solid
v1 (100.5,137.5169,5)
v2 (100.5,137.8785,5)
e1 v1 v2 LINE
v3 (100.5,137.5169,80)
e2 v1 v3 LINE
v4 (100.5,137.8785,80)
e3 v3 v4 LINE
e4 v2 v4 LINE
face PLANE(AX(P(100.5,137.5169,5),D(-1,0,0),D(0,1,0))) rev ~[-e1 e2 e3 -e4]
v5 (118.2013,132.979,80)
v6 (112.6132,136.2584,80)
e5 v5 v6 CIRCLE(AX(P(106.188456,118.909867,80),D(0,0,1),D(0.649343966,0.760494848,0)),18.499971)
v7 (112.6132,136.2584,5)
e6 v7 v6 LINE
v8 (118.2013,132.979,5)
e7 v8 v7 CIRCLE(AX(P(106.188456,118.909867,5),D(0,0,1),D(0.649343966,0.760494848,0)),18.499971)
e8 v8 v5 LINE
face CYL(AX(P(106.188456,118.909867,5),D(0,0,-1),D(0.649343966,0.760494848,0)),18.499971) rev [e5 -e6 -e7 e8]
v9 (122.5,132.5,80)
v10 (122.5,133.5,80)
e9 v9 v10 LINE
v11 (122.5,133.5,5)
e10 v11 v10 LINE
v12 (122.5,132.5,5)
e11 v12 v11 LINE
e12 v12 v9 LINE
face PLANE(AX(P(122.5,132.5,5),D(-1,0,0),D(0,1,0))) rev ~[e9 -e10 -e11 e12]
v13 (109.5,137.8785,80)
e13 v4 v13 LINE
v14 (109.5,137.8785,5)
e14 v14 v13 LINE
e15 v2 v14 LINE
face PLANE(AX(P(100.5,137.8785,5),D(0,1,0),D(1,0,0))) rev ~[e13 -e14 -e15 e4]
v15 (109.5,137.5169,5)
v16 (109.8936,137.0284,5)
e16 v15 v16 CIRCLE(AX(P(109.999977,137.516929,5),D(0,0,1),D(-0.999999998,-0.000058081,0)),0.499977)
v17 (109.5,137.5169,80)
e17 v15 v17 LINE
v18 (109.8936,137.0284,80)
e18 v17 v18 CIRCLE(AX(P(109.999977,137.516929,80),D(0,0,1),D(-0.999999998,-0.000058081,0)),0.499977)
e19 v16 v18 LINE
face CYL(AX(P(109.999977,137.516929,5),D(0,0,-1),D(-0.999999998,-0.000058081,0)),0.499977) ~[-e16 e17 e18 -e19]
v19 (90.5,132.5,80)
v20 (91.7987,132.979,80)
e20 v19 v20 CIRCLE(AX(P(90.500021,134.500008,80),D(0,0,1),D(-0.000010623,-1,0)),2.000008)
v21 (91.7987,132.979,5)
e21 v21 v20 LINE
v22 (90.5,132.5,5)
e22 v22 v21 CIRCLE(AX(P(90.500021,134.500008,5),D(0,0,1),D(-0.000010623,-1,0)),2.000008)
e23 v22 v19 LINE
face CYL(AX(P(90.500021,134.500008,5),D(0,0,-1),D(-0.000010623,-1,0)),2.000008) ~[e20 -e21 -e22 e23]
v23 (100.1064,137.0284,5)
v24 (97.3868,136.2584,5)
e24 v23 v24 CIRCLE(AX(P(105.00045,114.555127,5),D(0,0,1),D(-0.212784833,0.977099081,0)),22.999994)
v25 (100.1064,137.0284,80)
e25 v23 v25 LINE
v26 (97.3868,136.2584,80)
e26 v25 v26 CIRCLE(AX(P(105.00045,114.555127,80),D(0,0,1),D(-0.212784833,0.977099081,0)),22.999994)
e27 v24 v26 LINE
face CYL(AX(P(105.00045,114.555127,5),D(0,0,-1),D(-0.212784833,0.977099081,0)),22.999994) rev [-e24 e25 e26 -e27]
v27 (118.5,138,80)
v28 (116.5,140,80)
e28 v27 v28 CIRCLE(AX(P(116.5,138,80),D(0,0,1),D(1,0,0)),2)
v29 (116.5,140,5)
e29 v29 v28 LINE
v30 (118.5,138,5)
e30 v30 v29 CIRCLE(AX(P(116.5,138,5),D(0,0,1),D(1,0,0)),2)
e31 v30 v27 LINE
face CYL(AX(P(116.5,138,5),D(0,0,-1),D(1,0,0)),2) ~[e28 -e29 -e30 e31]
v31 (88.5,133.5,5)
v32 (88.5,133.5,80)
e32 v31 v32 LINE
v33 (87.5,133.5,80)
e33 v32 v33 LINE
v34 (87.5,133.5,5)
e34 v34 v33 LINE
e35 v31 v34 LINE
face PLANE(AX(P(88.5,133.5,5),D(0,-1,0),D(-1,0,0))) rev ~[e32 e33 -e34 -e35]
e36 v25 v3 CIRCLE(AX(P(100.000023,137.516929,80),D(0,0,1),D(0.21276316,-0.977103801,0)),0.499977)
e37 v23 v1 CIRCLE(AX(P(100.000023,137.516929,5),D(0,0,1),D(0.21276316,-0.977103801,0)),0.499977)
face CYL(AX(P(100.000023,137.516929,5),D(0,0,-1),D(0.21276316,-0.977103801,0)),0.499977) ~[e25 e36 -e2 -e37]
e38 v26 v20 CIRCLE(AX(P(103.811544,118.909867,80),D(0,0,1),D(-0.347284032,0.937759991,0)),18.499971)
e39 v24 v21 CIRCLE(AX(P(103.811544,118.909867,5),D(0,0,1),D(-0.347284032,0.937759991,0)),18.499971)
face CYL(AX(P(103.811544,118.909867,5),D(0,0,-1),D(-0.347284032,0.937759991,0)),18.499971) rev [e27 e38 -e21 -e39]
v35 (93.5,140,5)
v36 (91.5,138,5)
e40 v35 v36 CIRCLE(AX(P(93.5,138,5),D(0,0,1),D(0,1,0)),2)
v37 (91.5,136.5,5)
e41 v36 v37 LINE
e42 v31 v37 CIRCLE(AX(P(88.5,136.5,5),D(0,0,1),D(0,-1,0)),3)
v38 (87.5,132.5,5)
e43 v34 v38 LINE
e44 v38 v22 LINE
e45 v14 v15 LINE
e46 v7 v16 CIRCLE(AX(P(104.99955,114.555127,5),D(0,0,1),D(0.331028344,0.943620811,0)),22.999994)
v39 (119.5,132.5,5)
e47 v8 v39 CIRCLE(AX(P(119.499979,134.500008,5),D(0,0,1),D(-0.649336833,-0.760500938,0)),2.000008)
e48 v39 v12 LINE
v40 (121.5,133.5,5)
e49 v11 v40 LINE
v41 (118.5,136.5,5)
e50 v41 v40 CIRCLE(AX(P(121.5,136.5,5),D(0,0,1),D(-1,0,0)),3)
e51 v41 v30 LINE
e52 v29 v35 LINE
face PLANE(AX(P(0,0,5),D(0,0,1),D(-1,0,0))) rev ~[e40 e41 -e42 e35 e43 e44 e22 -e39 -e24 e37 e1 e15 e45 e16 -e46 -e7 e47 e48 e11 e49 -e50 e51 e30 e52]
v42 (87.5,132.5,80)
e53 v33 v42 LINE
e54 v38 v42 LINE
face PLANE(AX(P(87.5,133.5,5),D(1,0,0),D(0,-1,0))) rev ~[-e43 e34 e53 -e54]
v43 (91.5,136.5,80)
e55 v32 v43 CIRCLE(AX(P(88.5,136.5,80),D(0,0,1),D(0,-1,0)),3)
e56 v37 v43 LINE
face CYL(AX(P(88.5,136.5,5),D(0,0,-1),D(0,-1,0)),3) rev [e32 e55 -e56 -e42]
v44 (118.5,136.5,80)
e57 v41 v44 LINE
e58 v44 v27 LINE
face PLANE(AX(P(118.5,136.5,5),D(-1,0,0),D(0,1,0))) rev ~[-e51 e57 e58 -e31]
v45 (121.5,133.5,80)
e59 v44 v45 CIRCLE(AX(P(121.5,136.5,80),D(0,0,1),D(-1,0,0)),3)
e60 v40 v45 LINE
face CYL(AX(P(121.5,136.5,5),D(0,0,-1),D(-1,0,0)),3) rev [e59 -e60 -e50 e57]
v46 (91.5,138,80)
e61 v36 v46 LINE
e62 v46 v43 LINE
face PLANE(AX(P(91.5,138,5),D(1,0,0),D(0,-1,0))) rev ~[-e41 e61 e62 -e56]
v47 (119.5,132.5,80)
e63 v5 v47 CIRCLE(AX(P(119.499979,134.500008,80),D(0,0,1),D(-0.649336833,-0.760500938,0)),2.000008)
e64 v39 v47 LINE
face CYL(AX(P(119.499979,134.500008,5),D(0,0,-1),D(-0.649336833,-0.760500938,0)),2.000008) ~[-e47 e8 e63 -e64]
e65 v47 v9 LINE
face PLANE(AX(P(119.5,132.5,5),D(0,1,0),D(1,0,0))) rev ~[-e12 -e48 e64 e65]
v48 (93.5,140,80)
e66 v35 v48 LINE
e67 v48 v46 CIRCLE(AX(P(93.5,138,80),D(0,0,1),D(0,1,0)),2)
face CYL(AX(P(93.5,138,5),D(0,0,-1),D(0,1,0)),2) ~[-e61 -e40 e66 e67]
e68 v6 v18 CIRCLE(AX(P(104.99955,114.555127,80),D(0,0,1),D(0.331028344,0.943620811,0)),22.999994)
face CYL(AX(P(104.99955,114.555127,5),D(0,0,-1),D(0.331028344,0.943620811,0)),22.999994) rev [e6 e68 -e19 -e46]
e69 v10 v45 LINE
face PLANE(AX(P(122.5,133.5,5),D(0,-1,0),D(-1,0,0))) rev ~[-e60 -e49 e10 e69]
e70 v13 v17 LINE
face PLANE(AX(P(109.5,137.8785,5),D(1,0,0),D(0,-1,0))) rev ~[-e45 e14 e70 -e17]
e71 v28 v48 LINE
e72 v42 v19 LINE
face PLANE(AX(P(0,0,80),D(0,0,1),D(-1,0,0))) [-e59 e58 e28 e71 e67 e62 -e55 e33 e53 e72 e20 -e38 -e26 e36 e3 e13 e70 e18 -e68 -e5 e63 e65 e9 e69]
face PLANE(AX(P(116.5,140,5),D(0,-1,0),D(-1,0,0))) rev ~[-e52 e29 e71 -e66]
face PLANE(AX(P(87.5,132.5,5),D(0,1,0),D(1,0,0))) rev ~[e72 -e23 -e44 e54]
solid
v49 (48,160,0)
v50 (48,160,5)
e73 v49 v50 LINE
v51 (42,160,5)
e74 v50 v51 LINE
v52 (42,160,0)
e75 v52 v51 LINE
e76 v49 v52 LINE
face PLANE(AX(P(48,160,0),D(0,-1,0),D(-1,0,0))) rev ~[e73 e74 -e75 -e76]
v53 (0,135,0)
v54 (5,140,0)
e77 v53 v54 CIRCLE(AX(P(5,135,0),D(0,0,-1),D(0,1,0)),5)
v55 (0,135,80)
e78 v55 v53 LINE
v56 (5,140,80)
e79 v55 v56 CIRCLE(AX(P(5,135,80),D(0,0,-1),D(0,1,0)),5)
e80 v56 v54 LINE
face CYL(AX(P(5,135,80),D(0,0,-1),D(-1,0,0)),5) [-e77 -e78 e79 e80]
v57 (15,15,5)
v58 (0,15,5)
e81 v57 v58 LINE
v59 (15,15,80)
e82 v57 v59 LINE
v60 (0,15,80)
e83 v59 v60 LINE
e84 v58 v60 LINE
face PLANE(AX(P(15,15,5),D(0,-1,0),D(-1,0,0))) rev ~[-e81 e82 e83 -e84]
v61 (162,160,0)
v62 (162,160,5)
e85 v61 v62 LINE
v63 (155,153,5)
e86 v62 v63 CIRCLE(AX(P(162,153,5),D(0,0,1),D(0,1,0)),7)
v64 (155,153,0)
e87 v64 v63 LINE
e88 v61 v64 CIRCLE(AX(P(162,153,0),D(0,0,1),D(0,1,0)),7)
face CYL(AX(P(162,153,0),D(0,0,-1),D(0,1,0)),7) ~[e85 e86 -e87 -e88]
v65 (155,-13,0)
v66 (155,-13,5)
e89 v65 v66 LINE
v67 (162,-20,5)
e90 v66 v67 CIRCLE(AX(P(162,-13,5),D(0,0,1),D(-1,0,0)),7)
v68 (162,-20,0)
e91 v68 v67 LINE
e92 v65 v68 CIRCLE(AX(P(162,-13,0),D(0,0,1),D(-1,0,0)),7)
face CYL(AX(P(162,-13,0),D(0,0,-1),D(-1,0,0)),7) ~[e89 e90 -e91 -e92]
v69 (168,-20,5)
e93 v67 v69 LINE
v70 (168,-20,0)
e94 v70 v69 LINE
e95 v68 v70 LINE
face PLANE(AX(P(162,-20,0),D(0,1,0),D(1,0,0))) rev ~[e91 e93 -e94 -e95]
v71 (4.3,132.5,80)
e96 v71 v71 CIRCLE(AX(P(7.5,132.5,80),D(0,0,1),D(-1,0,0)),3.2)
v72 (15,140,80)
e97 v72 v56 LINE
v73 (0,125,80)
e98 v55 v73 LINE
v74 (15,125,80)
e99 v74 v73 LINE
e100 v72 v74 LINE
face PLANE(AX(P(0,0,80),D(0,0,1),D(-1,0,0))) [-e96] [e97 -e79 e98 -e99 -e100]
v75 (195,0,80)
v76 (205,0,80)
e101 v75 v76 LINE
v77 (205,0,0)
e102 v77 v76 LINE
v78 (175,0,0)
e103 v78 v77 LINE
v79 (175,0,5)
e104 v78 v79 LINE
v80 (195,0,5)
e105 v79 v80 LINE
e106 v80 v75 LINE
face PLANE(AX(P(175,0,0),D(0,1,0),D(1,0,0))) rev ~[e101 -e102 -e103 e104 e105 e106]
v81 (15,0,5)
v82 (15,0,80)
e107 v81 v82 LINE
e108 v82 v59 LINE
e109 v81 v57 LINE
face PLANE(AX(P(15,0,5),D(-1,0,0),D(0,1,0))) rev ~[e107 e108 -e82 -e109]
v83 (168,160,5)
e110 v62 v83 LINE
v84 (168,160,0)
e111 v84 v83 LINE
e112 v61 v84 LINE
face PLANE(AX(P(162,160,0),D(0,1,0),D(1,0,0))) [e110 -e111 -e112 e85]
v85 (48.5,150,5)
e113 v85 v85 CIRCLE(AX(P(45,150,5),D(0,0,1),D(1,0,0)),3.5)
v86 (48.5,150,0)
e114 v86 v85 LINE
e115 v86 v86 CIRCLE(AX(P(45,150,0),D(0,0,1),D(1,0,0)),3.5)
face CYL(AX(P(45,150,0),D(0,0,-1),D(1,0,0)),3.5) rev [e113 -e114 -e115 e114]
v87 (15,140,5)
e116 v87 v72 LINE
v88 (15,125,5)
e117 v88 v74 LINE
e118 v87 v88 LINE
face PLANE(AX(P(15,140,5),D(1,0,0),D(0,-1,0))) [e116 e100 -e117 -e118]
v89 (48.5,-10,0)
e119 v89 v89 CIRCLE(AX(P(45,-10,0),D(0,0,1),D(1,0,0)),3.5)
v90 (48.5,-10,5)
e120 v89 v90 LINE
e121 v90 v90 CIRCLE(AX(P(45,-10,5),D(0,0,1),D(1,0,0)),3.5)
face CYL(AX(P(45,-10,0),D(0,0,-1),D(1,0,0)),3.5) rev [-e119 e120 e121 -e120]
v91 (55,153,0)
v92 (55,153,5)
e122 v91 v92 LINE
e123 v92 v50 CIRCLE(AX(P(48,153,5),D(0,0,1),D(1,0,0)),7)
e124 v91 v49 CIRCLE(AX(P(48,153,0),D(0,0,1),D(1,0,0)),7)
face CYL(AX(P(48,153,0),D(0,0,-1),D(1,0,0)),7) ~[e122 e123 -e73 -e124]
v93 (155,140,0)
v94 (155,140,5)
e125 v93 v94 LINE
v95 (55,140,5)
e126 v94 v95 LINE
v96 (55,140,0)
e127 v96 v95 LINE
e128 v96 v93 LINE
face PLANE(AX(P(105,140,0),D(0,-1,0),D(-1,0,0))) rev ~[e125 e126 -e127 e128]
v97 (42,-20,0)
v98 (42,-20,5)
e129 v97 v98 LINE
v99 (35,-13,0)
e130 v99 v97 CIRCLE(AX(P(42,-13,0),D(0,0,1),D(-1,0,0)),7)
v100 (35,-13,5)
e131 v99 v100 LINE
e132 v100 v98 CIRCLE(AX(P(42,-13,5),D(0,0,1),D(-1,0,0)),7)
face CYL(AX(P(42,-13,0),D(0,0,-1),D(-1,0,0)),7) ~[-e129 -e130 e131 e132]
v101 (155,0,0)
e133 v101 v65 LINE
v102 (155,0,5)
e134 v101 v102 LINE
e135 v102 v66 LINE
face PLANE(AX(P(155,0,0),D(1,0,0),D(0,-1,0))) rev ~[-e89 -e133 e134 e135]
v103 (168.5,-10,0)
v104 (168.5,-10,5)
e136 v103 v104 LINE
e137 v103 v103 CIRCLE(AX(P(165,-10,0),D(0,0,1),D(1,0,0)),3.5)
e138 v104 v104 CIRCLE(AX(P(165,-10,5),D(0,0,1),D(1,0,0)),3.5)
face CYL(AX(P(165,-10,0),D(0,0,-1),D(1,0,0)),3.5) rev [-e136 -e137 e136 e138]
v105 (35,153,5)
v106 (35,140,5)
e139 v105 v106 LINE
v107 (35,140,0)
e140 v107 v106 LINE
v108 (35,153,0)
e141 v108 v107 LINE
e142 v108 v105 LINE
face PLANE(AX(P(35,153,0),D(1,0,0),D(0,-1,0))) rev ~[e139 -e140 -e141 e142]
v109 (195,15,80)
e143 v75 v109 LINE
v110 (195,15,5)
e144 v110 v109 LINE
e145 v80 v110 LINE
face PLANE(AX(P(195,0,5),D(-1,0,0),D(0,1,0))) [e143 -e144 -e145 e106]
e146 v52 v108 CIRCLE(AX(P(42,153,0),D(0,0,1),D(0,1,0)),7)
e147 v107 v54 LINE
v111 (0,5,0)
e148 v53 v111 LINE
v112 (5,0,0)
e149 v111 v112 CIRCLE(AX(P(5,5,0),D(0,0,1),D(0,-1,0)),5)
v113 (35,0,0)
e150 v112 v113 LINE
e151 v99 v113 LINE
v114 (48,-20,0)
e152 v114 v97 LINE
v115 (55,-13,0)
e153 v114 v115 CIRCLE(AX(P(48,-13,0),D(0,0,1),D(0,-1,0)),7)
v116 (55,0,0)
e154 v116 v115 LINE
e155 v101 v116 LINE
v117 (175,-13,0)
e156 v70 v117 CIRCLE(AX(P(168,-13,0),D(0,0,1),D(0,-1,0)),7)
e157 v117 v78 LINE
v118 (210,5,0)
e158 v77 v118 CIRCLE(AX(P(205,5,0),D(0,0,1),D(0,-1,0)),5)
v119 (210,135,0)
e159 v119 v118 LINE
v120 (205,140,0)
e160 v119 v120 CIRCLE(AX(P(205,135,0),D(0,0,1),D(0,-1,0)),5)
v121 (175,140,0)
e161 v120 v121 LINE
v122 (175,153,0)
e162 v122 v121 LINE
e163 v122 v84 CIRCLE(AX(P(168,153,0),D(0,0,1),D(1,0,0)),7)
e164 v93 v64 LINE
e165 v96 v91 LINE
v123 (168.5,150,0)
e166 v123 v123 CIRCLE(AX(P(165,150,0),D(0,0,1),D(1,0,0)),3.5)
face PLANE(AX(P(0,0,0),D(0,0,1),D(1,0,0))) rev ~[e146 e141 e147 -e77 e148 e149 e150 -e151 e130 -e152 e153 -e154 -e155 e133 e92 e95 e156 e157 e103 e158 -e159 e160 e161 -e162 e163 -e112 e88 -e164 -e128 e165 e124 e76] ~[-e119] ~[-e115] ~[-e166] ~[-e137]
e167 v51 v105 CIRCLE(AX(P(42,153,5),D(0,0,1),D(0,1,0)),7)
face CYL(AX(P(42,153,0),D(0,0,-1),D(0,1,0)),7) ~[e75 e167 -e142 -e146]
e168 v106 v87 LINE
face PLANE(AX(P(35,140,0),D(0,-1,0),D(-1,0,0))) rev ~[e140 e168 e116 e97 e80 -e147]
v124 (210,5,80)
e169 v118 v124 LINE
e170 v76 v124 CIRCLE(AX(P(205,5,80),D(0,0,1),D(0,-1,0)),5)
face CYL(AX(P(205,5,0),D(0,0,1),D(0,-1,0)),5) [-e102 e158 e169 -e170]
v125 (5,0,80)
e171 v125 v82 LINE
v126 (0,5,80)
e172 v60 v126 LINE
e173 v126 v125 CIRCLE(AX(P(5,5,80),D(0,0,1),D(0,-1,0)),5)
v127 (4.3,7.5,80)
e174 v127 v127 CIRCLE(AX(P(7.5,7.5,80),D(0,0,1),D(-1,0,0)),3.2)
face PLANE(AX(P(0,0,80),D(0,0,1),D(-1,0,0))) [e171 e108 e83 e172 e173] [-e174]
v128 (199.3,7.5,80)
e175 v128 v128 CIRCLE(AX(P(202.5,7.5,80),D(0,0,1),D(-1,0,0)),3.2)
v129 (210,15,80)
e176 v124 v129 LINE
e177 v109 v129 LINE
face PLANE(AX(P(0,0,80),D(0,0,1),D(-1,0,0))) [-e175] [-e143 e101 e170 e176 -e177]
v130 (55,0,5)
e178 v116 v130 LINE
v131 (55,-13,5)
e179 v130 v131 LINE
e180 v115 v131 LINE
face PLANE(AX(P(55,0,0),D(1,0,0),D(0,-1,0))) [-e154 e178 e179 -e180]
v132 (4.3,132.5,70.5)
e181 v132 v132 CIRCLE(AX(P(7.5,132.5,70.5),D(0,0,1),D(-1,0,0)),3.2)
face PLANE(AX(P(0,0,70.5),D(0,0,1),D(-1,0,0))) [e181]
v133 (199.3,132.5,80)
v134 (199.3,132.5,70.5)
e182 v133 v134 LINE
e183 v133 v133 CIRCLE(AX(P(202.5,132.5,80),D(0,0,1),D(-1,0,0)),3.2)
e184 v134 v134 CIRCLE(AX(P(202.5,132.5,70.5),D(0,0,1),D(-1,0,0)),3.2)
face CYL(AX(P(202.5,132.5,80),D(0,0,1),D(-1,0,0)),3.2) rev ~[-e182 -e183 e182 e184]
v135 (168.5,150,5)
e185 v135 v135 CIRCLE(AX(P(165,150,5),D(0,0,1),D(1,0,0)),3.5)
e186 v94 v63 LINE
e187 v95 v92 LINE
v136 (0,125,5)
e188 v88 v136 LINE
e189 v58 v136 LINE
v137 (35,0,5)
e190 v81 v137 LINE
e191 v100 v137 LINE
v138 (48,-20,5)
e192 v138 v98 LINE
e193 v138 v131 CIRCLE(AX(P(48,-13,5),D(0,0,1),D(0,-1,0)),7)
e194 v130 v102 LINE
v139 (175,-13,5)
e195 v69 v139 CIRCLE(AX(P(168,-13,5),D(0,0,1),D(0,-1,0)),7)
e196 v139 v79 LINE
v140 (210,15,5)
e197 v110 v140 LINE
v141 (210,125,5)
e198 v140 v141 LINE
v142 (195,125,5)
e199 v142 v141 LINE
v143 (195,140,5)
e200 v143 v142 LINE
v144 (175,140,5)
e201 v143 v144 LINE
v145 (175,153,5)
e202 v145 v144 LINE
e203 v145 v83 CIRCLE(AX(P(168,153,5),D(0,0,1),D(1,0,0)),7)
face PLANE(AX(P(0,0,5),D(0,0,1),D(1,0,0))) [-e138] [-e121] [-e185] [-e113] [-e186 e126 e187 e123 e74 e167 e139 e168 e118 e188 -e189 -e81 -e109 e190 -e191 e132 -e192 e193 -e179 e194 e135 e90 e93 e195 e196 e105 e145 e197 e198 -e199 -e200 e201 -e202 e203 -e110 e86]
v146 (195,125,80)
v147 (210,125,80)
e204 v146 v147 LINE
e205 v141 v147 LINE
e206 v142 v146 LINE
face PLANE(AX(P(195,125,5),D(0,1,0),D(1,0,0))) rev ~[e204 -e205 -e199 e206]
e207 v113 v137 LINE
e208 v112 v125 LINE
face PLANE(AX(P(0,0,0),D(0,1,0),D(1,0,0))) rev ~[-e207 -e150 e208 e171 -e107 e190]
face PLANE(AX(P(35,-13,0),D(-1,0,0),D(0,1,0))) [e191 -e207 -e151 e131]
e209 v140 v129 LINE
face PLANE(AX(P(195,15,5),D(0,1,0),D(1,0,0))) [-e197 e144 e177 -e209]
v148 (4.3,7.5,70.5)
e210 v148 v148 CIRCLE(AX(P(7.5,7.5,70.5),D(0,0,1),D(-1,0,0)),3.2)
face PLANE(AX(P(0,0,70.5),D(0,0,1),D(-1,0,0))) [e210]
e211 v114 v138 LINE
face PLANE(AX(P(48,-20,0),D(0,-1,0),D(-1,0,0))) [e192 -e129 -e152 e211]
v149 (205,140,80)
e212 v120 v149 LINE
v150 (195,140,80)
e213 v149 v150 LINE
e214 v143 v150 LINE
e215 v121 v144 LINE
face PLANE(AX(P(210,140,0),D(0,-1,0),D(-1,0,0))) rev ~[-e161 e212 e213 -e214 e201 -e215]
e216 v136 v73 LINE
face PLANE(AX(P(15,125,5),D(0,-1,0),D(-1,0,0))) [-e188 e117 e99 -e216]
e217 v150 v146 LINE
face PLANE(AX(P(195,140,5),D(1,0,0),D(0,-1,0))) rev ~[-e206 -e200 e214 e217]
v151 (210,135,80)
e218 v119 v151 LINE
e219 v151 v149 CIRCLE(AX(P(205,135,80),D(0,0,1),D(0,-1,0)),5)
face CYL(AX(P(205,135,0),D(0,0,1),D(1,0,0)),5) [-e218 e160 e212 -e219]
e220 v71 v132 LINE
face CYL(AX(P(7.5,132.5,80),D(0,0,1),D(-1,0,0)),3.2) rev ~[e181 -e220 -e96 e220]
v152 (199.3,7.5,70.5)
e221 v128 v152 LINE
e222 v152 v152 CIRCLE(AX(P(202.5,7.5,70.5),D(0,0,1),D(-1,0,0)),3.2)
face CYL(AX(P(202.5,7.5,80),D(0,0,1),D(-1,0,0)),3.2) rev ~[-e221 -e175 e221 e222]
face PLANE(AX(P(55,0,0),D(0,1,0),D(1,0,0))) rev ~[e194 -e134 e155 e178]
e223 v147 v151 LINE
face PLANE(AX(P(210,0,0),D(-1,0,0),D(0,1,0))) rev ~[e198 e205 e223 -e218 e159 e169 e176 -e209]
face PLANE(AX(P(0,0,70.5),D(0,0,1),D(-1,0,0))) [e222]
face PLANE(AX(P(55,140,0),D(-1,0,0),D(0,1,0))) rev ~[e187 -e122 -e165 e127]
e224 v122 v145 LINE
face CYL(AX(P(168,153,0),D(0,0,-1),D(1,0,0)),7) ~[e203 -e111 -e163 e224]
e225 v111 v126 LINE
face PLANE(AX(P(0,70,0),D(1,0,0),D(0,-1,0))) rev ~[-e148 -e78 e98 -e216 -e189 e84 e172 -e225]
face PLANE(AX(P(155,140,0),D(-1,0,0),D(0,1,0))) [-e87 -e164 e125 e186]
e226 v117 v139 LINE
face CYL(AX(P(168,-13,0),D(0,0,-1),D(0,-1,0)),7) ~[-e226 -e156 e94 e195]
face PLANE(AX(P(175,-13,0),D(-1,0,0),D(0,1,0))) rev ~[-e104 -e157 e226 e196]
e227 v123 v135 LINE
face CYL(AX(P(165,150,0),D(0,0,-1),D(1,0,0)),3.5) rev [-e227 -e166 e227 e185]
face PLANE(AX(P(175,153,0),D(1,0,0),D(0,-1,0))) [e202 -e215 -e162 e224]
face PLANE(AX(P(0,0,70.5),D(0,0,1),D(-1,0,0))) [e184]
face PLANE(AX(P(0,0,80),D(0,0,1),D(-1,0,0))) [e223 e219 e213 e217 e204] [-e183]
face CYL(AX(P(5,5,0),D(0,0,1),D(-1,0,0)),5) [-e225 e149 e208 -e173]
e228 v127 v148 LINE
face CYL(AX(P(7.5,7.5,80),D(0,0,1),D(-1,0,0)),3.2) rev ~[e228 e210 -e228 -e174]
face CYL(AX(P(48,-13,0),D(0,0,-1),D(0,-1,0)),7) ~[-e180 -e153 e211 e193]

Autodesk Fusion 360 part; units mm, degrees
sketch "Sketch1" plane through (0, 0, 0) normal (0, 0, 1) x (1, 0, 0)
  line L0 (0, 0) -> (210, 0)
  line L1 (210, 0) -> (210, 140)
  line L2 (210, 140) -> (0, 140)
  line L3 (0, 140) -> (0, 0)
  line L4 (35, 140) -> (55, 140)
  line L5 (55, 140) -> (55, 153)
  line L6 (48, 160) -> (42, 160)
  line L7 (35, 153) -> (35, 140)
  line L8 (0, 70) -> (210, 70)
  line L9 (105, 140) -> (105, 0)
  circle A0 centre (45, 150) radius 3.5
  arc A1 (42, 160) -> (35, 153) centre (42, 153) ccw
  arc A2 (55, 153) -> (48, 160) centre (48, 153) ccw
  arc A3 (35, -13) -> (42, -20) centre (42, -13) ccw
  line L10 (48, -20) -> (42, -20)
  circle A4 centre (45, -10) radius 3.5
  arc A5 (48, -20) -> (55, -13) centre (48, -13) ccw
  line L11 (35, -13) -> (35, 0)
  line L12 (55, 0) -> (55, -13)
  arc A6 (162, 160) -> (155, 153) centre (162, 153) ccw
  arc A7 (175, 153) -> (168, 160) centre (168, 153) ccw
  line L13 (162, 160) -> (168, 160)
  circle A8 centre (165, 150) radius 3.5
  line L14 (175, 153) -> (175, 140)
  line L15 (155, 140) -> (155, 153)
  arc A9 (155, -13) -> (162, -20) centre (162, -13) ccw
  circle A10 centre (165, -10) radius 3.5
  line L16 (162, -20) -> (168, -20)
  arc A11 (168, -20) -> (175, -13) centre (168, -13) ccw
  line L17 (155, 0) -> (155, -13)
  line L18 (175, -13) -> (175, 0)
  point P0 (35, 160)
  point P1 (35, -20)
  point P2 (175, 160)
  point P3 (175, -20)
  dimension "d1" = 210
  dimension "d2" = 140
  dimension "d3" = 20
  dimension "d4" = 20
  dimension "d5" = 35
  dimension "d6" = 7
  dimension "d7" = 10
  dimension "d8" = 10
  dimension "d9" = 7
extrude "Extrude1" add sketch "Sketch1" along normal blind 5 makes body 1
sketch "Sketch2" plane through (0, 0, 5) normal (0, 0, 1) x (-1, 0, 0)
  circle A0 centre (-45, 10) radius 3.5
  circle A1 centre (-45, -150) radius 3.5
  circle A2 centre (-165, -150) radius 3.5
  circle A3 centre (-165, 10) radius 3.5
  line L0 (-55, 0) -> (-155, 0)
  line L1 (-155, 0) -> (-155, 13)
  arc A4 (-155, 13) -> (-162, 20) centre (-162, 13) ccw
  line L2 (-162, 20) -> (-168, 20)
  arc A5 (-168, 20) -> (-175, 13) centre (-168, 13) ccw
  line L3 (-175, 13) -> (-175, 0)
  line L4 (-175, 0) -> (-210, 0)
  line L5 (-210, 0) -> (-210, -140)
  line L6 (-210, -140) -> (-175, -140)
  line L7 (-175, -140) -> (-175, -153)
  arc A6 (-175, -153) -> (-168, -160) centre (-168, -153) ccw
  line L8 (-168, -160) -> (-162, -160)
  arc A7 (-162, -160) -> (-155, -153) centre (-162, -153) ccw
  line L9 (-155, -153) -> (-155, -140)
  line L10 (-155, -140) -> (-55, -140)
  line L11 (-55, -140) -> (-55, -153)
  arc A8 (-55, -153) -> (-48, -160) centre (-48, -153) ccw
  line L12 (-48, -160) -> (-42, -160)
  arc A9 (-42, -160) -> (-35, -153) centre (-42, -153) ccw
  line L13 (-35, -153) -> (-35, -140)
  line L14 (-35, -140) -> (0, -140)
  line L15 (0, -140) -> (0, 0)
  line L16 (0, 0) -> (-35, 0)
  line L17 (-35, 0) -> (-35, 13)
  arc A10 (-35, 13) -> (-42, 20) centre (-42, 13) ccw
  line L18 (-42, 20) -> (-48, 20)
  arc A11 (-48, 20) -> (-55, 13) centre (-48, 13) ccw
  line L19 (-55, 13) -> (-55, 0)
  line L20 (0, -140) -> (-15, -140)
  line L21 (-15, -140) -> (-15, -125)
  line L22 (-15, -125) -> (0, -125)
  line L23 (0, -125) -> (0, -140)
  line L24 (-210, -140) -> (-195, -140)
  line L25 (-195, -140) -> (-195, -125)
  line L26 (-195, -125) -> (-210, -125)
  line L27 (-210, -125) -> (-210, -140)
  line L28 (0, 0) -> (-15, 0)
  line L29 (-15, 0) -> (-15, -15)
  line L30 (-15, -15) -> (0, -15)
  line L31 (0, -15) -> (0, 0)
  line L32 (-210, 0) -> (-195, 0)
  line L33 (-195, 0) -> (-195, -15)
  line L34 (-195, -15) -> (-210, -15)
  line L35 (-210, -15) -> (-210, 0)
  dimension "d12" = 15
  dimension "d13" = 15
  dimension "d14" = 15
  dimension "d15" = 15
  dimension "d16" = 15
  dimension "d17" = 15
  dimension "d18" = 15
  dimension "d19" = 15
extrude "Extrude2" add sketch "Sketch2" along normal blind 75 contours L15 L16 L28 L29 L30 L31 | L4 L5 L32 L33 L34 L35 | L14 L15 L20 L21 L22 L23 | L5 L6 L24 L25 L26 L27 bodies 1
fillet "Fillet1" radius 5 4 edges at (0, 140, 40) (0, 0, 40) (210, 140, 40) (210, 0, 40) on bodies 1
sketch "Sketch3" plane through (0, 0, 5) normal (0, 0, 1) x (-1, 0, 0)
  line L0 (-15, -15) -> (-15, 0)
  line L1 (-15, 0) -> (-35, 0)
  line L2 (-35, 0) -> (-35, 13)
  arc A0 (-35, 13) -> (-42, 20) centre (-42, 13) ccw
  line L3 (-42, 20) -> (-48, 20)
  arc A1 (-48, 20) -> (-55, 13) centre (-48, 13) ccw
  line L4 (-55, 13) -> (-55, 0)
  line L5 (-55, 0) -> (-155, 0)
  line L6 (-155, 0) -> (-155, 13)
  arc A2 (-155, 13) -> (-162, 20) centre (-162, 13) ccw
  line L7 (-162, 20) -> (-168, 20)
  arc A3 (-168, 20) -> (-175, 13) centre (-168, 13) ccw
  line L8 (-175, 13) -> (-175, 0)
  line L9 (-175, 0) -> (-195, 0)
  line L10 (-195, 0) -> (-195, -15)
  line L11 (-195, -15) -> (-210, -15)
  line L12 (-210, -15) -> (-210, -125)
  line L13 (-210, -125) -> (-195, -125)
  line L14 (-195, -125) -> (-195, -140)
  line L15 (-195, -140) -> (-175, -140)
  line L16 (-175, -140) -> (-175, -153)
  arc A4 (-175, -153) -> (-168, -160) centre (-168, -153) ccw
  line L17 (-168, -160) -> (-162, -160)
  arc A5 (-162, -160) -> (-155, -153) centre (-162, -153) ccw
  line L18 (-155, -153) -> (-155, -140)
  line L19 (-155, -140) -> (-55, -140)
  line L20 (-55, -140) -> (-55, -153)
  arc A6 (-55, -153) -> (-48, -160) centre (-48, -153) ccw
  line L21 (-48, -160) -> (-42, -160)
  arc A7 (-42, -160) -> (-35, -153) centre (-42, -153) ccw
  line L22 (-35, -153) -> (-35, -140)
  line L23 (-35, -140) -> (-15, -140)
  line L24 (-15, -140) -> (-15, -125)
  line L25 (-15, -125) -> (0, -125)
  line L26 (0, -125) -> (0, -15)
  line L27 (0, -15) -> (-15, -15)
  circle A8 centre (-45, 10) radius 3.5
  circle A9 centre (-45, -150) radius 3.5
  circle A10 centre (-165, -150) radius 3.5
  circle A11 centre (-165, 10) radius 3.5
  line L28 (-116.5, -140) -> (-93.5, -140)
  line L29 (-87.5, -133.5) -> (-87.5, -132.5)
  arc A12 (-100.1064, -137.0284) -> (-100.5, -137.5169) centre (-100, -137.5169) ccw
  arc A13 (-90.5, -132.5) -> (-91.7987, -132.979) centre (-90.5, -134.5) ccw
  line L30 (-119.5, -132.5) -> (-122.5, -132.5)
  arc A14 (-88.5, -133.5) -> (-91.5, -136.5) centre (-88.5, -136.5) ccw
  arc A15 (-112.6132, -136.2584) -> (-112.4547, -136.3163) centre (-106.1884, -118.9099) ccw
  arc A16 (-97.3868, -136.2584) -> (-97.2095, -136.1954) centre (-105, -114.555) ccw
  line L31 (-112.4547, -136.3163) -> (-112.7905, -136.1954)
  arc A17 (-97.3868, -136.2584) -> (-91.7987, -132.979) centre (-103.8116, -118.9099) ccw
  arc A18 (-112.6132, -136.2584) -> (-109.8936, -137.0284) centre (-105, -114.555) ccw
  arc A19 (-118.5, -138) -> (-116.5, -140) centre (-116.5, -138) ccw
  line L32 (-122.5, -132.5) -> (-122.5, -133.5)
  line L33 (-109.5, -137.8785) -> (-109.5, -137.5169)
  arc A20 (-93.5, -140) -> (-91.5, -138) centre (-93.5, -138) ccw
  arc A21 (-118.5, -136.5) -> (-121.5, -133.5) centre (-121.5, -136.5) ccw
  line L34 (-118.5, -136.5) -> (-118.5, -138)
  line L35 (-91.5, -138) -> (-91.5, -136.5)
  line L36 (-87.5, -132.5) -> (-90.5, -132.5)
  line L37 (-122.5, -133.5) -> (-121.5, -133.5)
  line L38 (-100.5, -137.5169) -> (-100.5, -137.8785)
  arc A22 (-118.2013, -132.979) -> (-112.6132, -136.2584) centre (-106.1884, -118.9099) ccw
  arc A23 (-118.2013, -132.979) -> (-119.5, -132.5) centre (-119.5, -134.5) ccw
  line L39 (-97.2095, -136.1954) -> (-97.5453, -136.3163)
  line L40 (-88.5, -133.5) -> (-87.5, -133.5)
  arc A24 (-112.7905, -136.1954) -> (-112.6132, -136.2584) centre (-105, -114.555) ccw
  arc A25 (-97.5453, -136.3163) -> (-97.3868, -136.2584) centre (-103.8116, -118.9099) ccw
  line L41 (-100.5, -137.8785) -> (-109.5, -137.8785)
  arc A26 (-100.1064, -137.0284) -> (-97.3868, -136.2584) centre (-105, -114.555) ccw
  arc A27 (-109.5, -137.5169) -> (-109.8936, -137.0284) centre (-110, -137.5169) ccw
  point P0 (-105, -140)
extrude "Extrude3" add sketch "Sketch3" along normal blind 75 separate body contours L19 L28 L29 A12 A13 L30 A14 A17 A18 A19 L32 L33 A20 A21 L34 L35 L36 L37 L38 A22 A23 L40 L41 A26 A27 makes body 2
sketch "Sketch4" plane through (0, 0, 80) normal (0, 0, 1) x (-1, 0, 0)
  arc A0 (-5, -140) -> (0, -135) centre (-5, -135) ccw
  line L0 (0, -135) -> (0, -125)
  line L1 (0, -125) -> (-15, -125)
  line L2 (-15, -125) -> (-15, -140)
  line L3 (-15, -140) -> (-5, -140)
  circle A1 centre (-7.5, -132.5) radius 3.2
  circle A2 centre (-202.5, -132.5) radius 3.2
  line L4 (-205, -140) -> (-195, -140)
  line L5 (-195, -140) -> (-195, -125)
  circle A3 centre (-202.5, -7.5) radius 3.2
  line L6 (-210, -5) -> (-210, -15)
  line L7 (-210, -15) -> (-195, -15)
  circle A4 centre (-7.5, -7.5) radius 3.2
  line L8 (-15, -15) -> (0, -15)
  line L9 (-15, 0) -> (-15, -15)
  dimension "d26" = 6.4
  dimension "d27" = 7.5
  dimension "d28" = 7.5
  dimension "d29" = 6.4
  dimension "d30" = 7.5
  dimension "d31" = 7.5
  dimension "d32" = 6.4
  dimension "d33" = 7.5
  dimension "d34" = 7.5
  dimension "d35" = 6.4
  dimension "d36" = 7.5
  dimension "d37" = 7.5
extrude "Extrude4" cut sketch "Sketch4" against normal blind 9.5 contours A1 | A2 | A3 | A4 bodies 1
